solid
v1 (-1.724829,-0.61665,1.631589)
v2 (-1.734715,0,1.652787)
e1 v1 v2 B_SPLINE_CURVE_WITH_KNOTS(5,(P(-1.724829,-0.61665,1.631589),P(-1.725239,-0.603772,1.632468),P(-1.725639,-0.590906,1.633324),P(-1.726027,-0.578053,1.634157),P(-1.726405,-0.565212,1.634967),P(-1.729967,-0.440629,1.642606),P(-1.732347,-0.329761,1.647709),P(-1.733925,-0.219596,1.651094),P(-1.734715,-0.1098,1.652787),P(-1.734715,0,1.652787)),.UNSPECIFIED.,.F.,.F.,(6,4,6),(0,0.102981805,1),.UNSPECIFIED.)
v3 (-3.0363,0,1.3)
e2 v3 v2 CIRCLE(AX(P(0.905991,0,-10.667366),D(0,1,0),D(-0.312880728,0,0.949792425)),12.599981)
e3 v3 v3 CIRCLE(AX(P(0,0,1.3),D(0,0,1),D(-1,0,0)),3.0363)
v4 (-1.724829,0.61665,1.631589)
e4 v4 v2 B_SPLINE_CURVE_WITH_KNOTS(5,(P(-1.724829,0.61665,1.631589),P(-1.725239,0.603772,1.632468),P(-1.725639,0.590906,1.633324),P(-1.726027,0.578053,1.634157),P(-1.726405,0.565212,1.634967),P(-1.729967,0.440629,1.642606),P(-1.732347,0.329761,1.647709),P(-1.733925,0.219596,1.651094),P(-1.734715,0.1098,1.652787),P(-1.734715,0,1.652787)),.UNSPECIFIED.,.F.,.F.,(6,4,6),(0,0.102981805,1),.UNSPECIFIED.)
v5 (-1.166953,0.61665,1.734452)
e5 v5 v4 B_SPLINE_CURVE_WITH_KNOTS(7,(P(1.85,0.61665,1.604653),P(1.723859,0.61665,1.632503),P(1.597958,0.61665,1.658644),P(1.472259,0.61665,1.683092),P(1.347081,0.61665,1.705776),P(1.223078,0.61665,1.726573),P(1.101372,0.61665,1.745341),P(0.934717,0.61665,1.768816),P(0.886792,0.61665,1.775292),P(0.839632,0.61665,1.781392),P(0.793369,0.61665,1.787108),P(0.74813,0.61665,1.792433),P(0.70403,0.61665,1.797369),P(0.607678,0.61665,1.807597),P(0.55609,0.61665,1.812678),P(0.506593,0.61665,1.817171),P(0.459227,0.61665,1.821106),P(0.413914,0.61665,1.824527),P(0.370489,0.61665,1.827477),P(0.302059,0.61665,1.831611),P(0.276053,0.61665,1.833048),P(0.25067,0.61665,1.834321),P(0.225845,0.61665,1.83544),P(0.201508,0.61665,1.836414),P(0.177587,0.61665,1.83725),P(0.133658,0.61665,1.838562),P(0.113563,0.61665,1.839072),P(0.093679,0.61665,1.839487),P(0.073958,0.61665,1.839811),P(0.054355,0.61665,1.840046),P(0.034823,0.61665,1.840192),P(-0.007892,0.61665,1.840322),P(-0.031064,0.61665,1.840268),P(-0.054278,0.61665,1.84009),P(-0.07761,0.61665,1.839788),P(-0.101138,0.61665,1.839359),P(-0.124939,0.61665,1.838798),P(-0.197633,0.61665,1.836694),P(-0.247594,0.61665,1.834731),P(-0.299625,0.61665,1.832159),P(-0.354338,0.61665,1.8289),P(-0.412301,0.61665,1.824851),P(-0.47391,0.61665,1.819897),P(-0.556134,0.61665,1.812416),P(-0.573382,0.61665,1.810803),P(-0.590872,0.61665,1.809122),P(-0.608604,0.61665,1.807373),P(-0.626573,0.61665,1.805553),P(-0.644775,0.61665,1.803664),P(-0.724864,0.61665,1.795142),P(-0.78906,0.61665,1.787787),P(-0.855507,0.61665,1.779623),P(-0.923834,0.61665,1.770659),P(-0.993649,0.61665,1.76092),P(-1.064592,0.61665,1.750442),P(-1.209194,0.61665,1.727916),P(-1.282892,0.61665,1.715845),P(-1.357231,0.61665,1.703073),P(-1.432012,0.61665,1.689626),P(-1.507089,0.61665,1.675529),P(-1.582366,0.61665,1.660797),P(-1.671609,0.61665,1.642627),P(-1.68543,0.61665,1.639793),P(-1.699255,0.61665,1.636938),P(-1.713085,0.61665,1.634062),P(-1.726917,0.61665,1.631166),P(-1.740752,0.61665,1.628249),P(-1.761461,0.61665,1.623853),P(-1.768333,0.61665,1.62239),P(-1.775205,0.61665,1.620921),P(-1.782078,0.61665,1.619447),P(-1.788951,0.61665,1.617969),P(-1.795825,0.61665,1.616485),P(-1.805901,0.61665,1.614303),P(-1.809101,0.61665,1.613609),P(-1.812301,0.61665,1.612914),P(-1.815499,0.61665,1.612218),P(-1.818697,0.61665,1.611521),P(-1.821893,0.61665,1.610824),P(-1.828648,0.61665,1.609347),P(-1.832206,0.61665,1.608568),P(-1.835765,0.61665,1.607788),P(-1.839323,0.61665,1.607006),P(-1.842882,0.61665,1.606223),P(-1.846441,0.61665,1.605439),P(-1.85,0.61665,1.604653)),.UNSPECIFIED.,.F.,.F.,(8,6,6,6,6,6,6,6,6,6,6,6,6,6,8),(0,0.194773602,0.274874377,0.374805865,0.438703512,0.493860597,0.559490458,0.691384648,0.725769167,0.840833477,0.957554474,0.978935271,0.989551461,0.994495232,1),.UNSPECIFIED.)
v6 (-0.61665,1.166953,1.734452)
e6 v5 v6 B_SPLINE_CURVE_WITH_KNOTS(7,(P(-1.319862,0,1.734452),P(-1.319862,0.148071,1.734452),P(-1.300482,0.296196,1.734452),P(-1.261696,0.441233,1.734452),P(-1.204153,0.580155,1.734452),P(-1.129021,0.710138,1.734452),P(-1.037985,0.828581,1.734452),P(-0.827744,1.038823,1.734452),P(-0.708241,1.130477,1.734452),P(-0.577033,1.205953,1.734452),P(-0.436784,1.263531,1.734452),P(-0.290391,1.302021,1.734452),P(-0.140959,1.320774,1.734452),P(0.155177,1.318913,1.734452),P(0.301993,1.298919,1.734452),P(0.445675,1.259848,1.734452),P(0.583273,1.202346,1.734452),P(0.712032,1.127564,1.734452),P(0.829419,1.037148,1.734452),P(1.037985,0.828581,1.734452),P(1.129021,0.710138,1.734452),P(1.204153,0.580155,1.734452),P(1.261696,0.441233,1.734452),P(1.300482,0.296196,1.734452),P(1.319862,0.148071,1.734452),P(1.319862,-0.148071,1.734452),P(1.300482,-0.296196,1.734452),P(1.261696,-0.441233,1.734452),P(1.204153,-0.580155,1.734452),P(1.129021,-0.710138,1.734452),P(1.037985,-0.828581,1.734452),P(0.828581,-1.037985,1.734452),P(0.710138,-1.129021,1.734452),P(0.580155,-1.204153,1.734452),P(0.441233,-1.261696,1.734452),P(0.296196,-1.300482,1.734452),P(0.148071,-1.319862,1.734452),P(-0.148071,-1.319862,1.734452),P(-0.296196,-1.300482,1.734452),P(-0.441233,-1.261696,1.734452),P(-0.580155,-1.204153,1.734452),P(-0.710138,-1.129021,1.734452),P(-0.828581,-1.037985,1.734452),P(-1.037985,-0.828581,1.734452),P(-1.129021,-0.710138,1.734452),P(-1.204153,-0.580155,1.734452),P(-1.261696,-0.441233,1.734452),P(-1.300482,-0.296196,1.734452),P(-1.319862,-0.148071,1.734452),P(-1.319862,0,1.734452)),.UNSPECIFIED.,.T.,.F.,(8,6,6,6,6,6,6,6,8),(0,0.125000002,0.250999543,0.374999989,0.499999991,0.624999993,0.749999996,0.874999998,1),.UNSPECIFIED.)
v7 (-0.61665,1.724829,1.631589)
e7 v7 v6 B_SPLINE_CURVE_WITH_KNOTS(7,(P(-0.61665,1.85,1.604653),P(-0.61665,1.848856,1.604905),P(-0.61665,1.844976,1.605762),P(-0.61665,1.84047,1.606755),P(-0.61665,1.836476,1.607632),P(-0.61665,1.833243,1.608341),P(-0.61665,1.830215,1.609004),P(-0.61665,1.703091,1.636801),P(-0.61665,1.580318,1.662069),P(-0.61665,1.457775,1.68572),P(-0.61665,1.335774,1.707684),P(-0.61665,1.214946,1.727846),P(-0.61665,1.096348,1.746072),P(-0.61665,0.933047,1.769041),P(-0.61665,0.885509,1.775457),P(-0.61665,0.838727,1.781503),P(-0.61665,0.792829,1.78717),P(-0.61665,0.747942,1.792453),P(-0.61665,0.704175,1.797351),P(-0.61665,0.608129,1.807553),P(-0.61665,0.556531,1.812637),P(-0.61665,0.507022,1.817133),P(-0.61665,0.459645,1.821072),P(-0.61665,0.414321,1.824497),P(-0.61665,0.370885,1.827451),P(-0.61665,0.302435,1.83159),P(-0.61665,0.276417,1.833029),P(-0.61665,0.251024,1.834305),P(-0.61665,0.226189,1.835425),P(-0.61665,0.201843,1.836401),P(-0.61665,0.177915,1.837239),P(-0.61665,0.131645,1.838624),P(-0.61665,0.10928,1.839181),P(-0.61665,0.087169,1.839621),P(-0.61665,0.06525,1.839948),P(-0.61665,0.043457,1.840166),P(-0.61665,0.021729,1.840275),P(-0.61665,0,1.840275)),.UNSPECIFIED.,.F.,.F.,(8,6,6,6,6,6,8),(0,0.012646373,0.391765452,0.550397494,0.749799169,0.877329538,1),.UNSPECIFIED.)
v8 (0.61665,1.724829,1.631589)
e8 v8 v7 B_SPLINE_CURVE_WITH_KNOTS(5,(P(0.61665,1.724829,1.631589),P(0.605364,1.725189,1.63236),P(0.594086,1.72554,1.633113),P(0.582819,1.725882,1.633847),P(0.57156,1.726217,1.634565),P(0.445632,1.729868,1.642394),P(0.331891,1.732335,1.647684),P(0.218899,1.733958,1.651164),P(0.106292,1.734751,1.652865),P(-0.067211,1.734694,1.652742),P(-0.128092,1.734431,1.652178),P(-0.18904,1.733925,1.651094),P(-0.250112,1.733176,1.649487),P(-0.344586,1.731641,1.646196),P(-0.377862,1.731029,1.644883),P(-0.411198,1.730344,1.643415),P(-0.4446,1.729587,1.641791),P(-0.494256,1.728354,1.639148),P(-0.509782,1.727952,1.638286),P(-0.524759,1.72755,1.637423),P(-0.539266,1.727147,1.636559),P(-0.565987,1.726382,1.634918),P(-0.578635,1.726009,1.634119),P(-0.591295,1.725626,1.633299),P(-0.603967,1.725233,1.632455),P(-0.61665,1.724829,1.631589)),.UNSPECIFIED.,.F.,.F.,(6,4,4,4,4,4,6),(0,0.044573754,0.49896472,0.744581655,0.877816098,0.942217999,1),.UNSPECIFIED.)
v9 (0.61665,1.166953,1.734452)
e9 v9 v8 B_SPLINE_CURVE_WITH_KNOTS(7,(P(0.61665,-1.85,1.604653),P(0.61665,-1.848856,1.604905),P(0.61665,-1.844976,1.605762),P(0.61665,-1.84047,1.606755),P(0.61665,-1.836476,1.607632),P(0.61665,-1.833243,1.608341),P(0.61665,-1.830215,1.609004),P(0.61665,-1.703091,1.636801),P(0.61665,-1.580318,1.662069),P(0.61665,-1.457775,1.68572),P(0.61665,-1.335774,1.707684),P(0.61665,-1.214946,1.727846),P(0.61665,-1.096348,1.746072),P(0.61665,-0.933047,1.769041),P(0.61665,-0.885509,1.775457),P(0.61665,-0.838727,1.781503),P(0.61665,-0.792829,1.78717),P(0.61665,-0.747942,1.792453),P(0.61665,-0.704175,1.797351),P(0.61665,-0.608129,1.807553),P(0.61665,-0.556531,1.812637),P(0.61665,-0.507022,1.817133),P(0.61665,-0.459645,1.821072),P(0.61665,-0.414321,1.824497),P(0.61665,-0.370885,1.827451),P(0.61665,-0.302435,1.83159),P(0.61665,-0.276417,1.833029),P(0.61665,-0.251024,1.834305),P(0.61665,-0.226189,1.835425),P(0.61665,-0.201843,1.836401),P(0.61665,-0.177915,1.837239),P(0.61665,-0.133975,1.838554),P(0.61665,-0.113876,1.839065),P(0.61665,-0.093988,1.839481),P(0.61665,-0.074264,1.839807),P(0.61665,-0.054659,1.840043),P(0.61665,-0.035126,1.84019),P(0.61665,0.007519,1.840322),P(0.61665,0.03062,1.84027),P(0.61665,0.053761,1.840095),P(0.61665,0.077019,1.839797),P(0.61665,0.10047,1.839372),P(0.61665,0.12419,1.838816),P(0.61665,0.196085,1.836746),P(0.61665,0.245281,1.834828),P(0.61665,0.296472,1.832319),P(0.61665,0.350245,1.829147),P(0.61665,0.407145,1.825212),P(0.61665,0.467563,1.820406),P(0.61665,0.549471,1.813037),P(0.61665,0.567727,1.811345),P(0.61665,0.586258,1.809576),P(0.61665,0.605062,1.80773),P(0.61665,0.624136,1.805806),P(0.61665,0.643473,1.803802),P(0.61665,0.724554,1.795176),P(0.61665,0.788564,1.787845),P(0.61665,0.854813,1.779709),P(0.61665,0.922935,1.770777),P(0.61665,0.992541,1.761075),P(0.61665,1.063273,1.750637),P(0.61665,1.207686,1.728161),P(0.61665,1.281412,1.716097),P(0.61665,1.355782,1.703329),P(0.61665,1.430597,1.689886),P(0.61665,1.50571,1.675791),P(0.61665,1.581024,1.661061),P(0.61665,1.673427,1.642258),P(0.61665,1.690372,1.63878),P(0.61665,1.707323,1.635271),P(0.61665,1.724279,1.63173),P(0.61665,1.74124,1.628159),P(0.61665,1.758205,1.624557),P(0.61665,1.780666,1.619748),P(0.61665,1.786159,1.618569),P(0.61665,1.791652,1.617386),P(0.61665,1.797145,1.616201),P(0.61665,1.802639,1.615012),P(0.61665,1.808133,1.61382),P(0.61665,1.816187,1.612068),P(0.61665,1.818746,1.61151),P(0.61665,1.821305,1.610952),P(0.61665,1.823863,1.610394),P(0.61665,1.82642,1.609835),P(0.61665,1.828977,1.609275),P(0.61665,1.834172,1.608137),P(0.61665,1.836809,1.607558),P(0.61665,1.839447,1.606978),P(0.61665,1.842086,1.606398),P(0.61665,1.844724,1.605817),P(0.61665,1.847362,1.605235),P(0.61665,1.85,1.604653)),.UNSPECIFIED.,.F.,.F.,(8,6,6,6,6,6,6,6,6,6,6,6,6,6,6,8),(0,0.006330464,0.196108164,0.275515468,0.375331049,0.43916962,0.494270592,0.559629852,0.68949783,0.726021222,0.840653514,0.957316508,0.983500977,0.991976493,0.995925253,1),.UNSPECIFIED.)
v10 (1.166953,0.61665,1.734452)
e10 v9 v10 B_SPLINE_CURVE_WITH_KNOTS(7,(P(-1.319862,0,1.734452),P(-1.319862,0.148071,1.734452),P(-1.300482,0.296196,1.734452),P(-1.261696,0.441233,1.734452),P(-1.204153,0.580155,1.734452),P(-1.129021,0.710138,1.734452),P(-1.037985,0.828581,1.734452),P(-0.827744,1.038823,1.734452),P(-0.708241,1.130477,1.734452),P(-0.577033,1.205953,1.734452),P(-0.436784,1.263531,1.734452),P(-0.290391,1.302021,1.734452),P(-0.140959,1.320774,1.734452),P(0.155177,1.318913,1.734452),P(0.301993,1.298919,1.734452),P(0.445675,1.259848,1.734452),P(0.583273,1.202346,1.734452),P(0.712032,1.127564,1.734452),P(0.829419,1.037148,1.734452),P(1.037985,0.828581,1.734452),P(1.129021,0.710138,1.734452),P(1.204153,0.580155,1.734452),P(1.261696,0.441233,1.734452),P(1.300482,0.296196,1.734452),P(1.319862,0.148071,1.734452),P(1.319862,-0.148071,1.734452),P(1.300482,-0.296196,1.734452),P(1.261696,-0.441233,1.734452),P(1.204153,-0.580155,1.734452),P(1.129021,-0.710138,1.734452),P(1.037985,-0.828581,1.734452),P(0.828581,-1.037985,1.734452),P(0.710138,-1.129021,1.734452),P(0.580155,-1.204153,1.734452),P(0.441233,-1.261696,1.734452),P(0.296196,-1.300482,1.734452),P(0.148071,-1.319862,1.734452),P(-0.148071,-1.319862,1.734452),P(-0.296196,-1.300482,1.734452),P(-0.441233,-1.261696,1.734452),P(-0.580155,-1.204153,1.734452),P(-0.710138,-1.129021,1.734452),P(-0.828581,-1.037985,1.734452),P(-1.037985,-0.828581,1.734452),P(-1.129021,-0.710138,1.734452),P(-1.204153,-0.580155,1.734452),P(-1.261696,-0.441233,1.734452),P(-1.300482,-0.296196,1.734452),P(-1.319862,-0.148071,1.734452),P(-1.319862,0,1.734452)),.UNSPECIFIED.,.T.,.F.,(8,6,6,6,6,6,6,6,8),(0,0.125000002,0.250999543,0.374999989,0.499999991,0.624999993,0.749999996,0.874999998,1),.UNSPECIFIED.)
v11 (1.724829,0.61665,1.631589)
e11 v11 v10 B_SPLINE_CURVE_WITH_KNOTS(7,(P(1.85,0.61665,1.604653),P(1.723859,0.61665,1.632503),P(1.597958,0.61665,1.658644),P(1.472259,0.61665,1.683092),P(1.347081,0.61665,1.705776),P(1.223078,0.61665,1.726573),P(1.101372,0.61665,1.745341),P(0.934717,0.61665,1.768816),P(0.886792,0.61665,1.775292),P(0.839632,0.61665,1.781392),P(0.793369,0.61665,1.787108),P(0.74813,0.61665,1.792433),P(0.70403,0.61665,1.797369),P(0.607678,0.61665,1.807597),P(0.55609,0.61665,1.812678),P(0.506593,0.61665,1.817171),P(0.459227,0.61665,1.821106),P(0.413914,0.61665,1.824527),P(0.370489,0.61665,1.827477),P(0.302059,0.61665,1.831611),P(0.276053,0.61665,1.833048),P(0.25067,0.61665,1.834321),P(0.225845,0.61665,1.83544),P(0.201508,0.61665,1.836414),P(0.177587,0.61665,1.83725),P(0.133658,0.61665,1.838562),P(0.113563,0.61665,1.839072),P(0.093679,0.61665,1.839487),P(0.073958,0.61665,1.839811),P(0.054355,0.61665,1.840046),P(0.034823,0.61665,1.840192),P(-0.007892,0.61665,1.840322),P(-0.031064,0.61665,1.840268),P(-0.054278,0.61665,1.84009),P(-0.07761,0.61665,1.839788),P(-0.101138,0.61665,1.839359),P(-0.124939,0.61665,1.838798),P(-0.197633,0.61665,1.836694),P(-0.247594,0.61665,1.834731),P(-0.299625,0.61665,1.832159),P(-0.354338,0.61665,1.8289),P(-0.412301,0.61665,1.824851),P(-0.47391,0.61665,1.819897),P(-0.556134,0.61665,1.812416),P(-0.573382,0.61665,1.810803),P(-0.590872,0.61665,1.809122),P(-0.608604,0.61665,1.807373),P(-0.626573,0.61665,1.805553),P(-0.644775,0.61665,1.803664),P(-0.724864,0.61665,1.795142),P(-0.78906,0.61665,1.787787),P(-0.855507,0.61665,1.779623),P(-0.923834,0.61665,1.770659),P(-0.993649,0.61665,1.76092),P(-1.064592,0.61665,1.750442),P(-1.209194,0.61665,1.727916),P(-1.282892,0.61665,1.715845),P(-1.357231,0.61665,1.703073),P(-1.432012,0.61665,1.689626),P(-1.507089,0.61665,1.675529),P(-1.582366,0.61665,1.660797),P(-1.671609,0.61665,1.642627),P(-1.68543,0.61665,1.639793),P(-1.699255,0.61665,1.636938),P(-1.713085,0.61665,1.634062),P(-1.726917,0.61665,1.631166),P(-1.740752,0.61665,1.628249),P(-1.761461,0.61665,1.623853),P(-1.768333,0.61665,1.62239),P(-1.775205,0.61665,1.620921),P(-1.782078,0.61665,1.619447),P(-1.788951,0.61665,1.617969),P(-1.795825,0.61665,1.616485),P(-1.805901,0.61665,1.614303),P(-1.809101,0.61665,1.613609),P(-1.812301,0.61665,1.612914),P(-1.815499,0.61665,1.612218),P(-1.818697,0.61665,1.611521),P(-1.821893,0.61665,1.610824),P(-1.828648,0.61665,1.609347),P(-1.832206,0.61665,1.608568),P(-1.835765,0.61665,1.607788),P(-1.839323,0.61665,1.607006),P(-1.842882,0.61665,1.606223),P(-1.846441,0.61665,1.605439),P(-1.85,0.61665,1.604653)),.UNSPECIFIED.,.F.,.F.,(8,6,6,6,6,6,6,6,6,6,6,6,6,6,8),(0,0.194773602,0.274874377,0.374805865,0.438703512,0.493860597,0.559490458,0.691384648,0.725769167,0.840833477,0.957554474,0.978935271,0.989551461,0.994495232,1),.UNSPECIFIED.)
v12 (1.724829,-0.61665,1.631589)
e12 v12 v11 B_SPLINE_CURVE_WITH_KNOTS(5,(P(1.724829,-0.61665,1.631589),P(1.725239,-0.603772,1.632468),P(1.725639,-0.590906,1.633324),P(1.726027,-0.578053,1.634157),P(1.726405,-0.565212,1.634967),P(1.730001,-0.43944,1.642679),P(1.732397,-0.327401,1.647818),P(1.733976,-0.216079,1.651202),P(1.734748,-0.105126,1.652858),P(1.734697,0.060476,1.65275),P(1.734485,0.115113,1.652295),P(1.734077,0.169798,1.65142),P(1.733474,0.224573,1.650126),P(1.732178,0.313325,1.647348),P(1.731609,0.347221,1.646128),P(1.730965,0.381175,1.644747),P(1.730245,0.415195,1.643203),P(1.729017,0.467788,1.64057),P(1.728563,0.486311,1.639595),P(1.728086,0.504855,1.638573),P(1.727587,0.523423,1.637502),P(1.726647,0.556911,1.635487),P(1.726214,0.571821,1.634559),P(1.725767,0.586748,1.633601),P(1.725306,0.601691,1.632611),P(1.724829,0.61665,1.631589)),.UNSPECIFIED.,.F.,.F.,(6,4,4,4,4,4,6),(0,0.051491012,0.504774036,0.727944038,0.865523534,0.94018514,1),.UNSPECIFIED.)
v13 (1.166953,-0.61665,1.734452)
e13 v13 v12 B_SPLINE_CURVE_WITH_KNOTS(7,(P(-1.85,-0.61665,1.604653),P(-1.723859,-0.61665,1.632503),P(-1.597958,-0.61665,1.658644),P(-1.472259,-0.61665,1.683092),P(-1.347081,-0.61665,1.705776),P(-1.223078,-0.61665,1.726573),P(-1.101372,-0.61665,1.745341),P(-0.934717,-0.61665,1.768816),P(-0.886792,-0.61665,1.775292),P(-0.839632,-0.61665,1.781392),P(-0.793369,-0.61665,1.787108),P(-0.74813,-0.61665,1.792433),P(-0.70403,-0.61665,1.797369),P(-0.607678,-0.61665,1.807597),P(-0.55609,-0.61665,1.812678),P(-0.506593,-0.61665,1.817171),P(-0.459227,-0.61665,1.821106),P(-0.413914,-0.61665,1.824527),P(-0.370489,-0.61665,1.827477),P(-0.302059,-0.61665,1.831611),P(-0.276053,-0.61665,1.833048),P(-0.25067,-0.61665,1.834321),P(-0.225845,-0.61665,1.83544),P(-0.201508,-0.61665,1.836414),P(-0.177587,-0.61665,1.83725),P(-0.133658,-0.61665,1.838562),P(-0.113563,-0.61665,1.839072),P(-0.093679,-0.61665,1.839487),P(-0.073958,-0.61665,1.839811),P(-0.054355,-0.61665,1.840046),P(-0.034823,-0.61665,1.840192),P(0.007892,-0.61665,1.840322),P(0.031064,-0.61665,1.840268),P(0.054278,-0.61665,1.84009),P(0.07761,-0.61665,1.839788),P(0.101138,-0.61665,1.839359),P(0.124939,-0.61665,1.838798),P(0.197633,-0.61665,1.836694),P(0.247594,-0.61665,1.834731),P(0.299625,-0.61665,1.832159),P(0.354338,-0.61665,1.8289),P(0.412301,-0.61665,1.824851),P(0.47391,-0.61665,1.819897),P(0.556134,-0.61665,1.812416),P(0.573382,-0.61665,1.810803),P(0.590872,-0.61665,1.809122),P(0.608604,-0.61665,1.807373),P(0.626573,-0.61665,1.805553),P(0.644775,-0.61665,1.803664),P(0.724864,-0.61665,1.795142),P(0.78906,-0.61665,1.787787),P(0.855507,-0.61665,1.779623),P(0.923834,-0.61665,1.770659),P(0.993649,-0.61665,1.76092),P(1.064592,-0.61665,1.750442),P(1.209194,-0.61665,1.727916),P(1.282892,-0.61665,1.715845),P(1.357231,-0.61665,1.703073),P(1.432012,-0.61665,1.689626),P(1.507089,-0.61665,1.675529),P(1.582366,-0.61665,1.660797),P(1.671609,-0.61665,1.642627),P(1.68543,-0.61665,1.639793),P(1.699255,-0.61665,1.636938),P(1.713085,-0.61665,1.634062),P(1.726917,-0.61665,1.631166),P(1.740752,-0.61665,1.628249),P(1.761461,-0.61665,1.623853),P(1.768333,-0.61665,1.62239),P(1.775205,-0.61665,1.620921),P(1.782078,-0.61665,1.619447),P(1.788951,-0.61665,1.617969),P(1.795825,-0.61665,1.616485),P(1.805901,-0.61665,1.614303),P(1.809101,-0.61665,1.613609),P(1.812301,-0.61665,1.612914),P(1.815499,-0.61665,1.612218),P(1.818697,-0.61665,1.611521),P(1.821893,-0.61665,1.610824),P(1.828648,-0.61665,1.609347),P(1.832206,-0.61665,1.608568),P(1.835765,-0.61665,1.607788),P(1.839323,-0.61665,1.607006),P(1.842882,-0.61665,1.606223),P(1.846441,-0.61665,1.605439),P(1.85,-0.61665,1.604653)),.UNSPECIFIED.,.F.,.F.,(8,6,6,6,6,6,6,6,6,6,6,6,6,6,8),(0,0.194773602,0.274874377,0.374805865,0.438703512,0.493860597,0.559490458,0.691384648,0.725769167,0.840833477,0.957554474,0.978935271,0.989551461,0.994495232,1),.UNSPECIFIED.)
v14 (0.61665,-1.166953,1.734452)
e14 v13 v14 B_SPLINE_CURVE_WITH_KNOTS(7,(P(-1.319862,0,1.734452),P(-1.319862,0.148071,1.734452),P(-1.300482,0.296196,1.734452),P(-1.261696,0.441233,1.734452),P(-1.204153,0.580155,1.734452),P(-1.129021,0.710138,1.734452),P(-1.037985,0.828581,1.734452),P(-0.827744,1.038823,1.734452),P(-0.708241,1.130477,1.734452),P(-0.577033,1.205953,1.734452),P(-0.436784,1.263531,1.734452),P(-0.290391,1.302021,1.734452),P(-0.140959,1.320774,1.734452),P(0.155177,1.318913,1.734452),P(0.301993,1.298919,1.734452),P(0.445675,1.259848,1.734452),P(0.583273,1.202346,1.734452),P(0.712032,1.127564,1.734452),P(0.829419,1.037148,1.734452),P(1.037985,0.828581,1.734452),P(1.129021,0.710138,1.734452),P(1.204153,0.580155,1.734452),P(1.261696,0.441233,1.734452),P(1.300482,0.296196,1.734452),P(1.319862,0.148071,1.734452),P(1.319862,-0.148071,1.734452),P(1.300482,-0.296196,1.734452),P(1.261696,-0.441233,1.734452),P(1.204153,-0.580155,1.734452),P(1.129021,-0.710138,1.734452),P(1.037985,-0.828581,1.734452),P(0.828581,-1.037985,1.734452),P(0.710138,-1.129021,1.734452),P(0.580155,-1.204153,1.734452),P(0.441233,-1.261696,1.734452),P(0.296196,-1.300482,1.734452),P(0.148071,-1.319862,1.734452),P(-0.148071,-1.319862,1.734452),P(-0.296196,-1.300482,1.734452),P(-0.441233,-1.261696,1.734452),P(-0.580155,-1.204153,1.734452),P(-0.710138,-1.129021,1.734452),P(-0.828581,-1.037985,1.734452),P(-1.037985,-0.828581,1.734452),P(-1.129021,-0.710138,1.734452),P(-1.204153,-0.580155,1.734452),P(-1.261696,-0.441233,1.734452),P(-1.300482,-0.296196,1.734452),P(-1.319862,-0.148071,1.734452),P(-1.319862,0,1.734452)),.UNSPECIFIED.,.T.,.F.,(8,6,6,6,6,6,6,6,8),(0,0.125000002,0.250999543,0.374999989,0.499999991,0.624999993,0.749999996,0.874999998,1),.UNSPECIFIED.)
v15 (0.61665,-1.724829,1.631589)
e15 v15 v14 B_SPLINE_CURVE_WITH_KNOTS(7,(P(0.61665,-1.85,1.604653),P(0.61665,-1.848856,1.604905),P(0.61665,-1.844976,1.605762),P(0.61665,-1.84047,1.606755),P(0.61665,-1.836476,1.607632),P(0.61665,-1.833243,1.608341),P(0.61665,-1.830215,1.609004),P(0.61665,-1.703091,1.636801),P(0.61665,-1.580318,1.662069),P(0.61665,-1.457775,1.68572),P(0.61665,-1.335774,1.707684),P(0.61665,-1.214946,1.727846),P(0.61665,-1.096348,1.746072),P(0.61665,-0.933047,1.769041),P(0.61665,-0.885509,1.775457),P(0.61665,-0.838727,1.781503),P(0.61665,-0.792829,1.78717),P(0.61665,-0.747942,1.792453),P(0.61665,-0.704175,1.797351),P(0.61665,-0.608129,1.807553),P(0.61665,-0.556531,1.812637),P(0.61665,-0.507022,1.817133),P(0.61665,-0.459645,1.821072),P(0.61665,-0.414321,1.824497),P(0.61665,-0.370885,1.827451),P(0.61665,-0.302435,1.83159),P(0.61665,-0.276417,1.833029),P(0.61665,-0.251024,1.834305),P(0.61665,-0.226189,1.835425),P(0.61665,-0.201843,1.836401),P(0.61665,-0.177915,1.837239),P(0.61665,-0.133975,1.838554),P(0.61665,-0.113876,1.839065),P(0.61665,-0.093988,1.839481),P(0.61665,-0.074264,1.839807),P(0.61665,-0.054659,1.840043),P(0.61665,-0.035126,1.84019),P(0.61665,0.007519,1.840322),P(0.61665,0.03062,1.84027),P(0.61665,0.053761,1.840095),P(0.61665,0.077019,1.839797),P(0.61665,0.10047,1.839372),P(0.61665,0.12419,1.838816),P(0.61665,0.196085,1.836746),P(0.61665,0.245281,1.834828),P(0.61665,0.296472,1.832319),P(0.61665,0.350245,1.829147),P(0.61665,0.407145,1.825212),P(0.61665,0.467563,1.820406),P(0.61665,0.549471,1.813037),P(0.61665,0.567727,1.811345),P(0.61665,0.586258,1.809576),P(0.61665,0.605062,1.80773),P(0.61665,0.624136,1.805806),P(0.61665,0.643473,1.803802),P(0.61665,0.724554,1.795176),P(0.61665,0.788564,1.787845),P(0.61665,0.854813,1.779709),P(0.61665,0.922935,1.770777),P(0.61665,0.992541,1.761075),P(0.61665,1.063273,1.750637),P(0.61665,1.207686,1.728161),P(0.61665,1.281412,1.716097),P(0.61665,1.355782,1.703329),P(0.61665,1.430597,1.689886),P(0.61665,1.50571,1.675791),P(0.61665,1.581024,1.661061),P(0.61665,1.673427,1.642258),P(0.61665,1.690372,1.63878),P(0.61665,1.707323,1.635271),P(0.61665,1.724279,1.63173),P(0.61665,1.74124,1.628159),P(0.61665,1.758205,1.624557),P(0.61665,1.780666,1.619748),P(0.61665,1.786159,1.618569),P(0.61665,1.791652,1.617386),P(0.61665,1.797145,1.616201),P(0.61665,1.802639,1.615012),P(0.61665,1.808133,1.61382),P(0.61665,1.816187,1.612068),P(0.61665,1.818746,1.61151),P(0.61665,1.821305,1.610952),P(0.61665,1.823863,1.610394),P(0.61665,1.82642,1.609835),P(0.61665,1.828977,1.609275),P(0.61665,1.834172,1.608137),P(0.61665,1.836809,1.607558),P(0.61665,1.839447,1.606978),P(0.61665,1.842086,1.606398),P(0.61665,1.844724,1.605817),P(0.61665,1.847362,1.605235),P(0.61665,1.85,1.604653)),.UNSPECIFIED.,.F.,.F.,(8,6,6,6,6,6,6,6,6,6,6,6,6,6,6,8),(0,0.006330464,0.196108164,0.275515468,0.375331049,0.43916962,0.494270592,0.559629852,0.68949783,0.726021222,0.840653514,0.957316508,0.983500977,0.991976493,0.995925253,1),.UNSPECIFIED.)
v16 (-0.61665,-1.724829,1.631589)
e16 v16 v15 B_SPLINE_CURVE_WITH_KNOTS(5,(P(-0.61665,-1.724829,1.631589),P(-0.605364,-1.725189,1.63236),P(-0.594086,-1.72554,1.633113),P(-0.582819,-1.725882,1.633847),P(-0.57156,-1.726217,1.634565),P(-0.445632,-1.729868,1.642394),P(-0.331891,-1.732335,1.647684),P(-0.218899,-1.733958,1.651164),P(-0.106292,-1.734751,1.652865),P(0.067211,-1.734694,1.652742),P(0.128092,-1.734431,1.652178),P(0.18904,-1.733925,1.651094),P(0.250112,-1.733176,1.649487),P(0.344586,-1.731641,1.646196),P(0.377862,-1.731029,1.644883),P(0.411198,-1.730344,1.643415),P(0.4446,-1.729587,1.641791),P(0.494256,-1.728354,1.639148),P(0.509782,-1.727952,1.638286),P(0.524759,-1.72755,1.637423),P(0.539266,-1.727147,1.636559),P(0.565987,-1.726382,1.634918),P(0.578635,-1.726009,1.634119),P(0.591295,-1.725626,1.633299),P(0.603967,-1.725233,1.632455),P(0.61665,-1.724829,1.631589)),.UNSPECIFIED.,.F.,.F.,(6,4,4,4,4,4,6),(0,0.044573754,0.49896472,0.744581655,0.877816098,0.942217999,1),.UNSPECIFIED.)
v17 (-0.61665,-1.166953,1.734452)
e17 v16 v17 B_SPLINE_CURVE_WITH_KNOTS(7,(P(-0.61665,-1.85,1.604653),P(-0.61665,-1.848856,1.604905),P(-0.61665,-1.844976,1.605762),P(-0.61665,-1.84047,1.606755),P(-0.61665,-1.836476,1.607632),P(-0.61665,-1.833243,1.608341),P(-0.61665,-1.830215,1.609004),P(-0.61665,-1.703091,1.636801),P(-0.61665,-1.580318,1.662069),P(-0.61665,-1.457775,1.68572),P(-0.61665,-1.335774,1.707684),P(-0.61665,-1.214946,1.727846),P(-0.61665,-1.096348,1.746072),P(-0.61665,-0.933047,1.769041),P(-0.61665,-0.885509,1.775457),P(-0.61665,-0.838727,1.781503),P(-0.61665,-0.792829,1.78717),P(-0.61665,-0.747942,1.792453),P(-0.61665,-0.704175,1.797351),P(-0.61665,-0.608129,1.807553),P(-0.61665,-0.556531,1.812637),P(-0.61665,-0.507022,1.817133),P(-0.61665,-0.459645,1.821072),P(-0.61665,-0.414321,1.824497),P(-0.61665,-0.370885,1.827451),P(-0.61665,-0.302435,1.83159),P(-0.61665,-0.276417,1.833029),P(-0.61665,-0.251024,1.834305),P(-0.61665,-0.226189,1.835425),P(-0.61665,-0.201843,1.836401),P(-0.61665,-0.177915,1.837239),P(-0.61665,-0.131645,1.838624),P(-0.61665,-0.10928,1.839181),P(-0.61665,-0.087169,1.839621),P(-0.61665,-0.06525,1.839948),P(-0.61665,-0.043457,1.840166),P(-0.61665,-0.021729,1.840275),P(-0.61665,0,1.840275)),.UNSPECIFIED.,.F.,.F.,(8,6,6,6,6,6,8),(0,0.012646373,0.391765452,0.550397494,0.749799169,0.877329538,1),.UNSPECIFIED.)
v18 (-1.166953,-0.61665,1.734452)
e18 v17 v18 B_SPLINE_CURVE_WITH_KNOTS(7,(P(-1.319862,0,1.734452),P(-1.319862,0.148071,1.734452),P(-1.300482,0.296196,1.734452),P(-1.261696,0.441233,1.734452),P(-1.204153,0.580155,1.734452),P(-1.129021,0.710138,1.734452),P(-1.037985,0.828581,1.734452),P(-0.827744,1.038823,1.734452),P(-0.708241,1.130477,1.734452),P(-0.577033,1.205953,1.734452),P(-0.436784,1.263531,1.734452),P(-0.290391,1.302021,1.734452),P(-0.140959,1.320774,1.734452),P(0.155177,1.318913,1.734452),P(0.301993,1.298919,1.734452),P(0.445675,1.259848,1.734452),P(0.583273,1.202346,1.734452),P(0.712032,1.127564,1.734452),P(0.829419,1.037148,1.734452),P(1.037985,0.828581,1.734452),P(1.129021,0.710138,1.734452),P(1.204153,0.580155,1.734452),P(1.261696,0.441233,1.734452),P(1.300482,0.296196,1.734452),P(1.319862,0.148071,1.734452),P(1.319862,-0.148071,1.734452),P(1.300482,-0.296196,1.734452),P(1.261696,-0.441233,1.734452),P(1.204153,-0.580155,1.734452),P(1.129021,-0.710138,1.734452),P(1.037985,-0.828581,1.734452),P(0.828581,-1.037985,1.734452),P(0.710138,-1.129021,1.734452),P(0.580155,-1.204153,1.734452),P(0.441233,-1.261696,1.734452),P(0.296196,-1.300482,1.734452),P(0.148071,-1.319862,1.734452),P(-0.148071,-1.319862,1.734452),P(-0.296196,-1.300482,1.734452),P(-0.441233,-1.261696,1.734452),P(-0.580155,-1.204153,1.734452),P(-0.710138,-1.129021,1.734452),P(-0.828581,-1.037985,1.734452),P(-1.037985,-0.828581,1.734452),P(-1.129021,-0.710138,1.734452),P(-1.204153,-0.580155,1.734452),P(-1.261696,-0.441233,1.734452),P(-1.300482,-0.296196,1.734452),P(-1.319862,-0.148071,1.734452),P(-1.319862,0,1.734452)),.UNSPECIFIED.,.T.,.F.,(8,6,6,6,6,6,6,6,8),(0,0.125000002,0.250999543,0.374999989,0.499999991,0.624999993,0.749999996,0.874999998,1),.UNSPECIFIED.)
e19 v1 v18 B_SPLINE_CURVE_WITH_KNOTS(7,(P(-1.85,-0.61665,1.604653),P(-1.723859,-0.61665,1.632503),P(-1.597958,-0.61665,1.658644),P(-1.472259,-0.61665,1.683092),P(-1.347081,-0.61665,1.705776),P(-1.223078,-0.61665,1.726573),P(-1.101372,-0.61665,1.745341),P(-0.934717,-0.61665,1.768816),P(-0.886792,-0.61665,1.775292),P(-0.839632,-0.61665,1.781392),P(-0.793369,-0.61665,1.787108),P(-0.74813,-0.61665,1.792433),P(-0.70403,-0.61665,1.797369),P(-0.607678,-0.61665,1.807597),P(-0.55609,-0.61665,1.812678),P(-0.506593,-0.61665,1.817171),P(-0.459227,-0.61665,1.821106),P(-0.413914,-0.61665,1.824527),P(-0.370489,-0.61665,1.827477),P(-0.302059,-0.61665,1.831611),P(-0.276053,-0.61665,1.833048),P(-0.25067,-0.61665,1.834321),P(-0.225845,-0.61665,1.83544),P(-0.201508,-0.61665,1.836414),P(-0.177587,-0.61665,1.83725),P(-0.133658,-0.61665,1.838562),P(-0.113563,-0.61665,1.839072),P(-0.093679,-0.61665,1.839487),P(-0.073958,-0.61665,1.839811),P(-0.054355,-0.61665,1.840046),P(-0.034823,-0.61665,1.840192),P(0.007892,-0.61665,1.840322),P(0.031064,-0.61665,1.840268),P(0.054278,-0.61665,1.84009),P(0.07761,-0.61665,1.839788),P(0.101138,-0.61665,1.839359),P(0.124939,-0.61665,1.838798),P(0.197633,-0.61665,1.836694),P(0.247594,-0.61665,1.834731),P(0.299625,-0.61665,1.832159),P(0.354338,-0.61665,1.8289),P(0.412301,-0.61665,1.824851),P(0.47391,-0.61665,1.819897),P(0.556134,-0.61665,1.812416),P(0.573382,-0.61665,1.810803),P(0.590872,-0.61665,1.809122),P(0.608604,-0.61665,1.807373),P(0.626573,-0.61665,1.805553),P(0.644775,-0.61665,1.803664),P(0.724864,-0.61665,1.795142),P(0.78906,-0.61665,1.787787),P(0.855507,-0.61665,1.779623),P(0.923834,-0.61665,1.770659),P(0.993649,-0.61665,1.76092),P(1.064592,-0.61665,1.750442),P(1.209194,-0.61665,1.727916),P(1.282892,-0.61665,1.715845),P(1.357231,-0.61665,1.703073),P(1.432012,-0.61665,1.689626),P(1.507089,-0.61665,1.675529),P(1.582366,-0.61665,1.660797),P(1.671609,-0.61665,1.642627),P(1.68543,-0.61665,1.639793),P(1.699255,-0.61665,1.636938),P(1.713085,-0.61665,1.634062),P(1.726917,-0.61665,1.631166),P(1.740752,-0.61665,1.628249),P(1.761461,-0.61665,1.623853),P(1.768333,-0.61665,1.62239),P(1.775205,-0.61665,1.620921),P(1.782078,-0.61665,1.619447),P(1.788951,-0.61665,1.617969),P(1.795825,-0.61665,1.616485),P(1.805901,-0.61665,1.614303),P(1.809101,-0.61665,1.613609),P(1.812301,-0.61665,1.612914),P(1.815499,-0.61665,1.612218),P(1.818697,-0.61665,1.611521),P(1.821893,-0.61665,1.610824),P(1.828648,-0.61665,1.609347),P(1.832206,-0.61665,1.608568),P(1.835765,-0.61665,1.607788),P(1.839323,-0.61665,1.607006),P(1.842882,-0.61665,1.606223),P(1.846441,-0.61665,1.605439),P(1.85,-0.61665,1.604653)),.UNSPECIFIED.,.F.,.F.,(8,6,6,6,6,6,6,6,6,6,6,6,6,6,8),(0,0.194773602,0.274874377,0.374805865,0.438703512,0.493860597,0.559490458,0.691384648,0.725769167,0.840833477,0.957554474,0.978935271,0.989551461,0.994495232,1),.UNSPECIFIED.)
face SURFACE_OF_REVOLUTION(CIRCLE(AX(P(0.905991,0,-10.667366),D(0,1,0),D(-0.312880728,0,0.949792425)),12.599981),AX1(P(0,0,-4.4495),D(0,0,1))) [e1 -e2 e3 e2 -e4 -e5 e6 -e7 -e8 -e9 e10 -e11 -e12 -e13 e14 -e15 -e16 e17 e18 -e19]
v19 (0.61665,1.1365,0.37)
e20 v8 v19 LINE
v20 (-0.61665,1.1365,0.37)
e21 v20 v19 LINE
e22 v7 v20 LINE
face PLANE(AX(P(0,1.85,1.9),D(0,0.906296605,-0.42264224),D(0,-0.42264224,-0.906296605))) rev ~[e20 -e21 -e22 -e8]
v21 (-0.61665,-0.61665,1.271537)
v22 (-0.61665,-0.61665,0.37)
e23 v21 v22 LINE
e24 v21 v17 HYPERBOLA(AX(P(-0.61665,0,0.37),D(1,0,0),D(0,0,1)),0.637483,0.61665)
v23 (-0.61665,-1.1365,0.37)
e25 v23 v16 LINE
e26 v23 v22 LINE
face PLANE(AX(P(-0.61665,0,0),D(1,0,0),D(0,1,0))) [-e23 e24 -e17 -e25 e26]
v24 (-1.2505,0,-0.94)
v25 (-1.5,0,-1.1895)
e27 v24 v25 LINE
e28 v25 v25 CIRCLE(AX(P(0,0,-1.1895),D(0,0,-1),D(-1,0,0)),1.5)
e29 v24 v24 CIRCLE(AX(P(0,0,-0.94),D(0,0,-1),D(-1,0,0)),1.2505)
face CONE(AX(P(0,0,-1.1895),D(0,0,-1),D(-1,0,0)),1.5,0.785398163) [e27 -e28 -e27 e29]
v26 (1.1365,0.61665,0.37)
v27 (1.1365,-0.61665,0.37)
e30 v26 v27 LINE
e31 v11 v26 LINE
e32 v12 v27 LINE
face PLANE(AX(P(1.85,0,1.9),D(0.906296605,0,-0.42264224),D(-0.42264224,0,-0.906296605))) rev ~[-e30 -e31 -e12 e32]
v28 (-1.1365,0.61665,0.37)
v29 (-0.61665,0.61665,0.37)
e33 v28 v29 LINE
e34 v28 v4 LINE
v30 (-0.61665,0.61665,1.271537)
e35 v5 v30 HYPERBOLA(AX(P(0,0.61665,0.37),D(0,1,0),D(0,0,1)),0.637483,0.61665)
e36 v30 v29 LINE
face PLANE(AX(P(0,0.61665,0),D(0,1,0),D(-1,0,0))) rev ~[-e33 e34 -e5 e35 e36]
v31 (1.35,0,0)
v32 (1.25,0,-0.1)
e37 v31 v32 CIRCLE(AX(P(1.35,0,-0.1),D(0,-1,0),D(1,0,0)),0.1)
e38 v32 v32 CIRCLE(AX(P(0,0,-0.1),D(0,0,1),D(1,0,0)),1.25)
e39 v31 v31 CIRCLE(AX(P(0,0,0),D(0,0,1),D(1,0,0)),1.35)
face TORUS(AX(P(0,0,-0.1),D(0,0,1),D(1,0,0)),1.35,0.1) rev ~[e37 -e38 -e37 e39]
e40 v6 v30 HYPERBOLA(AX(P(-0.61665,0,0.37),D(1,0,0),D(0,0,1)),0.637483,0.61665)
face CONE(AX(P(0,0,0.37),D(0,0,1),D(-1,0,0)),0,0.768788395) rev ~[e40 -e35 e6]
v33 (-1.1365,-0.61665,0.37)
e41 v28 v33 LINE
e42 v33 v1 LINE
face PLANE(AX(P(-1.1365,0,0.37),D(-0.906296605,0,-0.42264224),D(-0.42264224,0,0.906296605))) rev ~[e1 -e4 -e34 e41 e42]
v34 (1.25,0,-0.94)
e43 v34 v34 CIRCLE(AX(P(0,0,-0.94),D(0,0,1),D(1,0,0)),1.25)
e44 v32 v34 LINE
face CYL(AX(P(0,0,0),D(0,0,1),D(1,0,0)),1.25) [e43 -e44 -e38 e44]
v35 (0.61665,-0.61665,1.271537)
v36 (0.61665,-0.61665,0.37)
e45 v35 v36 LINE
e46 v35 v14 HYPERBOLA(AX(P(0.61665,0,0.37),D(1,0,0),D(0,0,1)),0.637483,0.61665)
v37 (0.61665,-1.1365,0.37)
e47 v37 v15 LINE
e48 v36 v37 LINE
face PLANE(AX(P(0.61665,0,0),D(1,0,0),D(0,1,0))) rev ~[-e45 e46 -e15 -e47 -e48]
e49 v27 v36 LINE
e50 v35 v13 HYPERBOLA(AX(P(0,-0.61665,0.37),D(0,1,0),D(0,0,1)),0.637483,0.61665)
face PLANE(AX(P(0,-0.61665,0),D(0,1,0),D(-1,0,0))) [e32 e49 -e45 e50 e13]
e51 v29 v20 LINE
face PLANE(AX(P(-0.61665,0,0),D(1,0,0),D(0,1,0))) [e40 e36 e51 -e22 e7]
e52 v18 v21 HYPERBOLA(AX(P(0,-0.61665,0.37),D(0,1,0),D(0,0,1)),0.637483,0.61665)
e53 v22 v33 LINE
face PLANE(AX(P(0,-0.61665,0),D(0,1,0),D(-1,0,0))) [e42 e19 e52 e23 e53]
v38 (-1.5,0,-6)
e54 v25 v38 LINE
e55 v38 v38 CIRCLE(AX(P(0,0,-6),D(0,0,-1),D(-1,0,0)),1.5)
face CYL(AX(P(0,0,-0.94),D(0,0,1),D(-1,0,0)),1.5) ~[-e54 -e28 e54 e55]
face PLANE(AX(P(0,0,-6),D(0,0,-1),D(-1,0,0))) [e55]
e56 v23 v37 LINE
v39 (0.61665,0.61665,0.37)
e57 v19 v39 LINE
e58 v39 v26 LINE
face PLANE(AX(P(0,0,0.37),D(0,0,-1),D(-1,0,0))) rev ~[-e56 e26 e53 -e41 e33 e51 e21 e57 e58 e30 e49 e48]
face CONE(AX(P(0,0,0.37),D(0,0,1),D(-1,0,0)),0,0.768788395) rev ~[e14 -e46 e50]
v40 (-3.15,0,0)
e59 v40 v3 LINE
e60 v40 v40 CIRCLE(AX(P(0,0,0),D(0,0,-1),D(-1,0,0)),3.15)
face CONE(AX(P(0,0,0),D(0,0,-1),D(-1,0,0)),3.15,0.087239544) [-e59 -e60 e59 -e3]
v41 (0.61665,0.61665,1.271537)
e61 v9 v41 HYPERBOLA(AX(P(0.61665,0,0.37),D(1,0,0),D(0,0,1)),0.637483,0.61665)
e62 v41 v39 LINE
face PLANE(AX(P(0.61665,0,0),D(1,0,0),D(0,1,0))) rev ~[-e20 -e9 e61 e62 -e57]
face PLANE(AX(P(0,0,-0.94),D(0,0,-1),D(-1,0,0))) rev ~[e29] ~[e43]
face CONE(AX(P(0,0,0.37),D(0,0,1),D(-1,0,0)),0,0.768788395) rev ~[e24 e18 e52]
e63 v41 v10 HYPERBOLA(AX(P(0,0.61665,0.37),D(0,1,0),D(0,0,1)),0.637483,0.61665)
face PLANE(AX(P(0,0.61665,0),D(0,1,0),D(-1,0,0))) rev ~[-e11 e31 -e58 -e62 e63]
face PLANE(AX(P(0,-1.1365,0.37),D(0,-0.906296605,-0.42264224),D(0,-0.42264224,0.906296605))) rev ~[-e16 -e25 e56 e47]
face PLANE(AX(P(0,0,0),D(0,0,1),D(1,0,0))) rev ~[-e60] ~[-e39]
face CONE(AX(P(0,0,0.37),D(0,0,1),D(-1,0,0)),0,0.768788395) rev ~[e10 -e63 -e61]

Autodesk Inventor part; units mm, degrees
ref_plane "YZ Plane" through (0, 0, 0) normal (1, 0, 0) x (0, 1, 0)
sketch "Эскиз2" plane through (0, 0, 0) normal (0, 0, 1) x (1, 0, 0)
  circle A0 centre (0, 0) radius 1.25
  dimension "d3" = 2.5
extrude "Выдавливание1" add sketch "Эскиз2" against normal blind 0.94
sketch "Эскиз3" plane through (0, 0, -0.94) normal (0, 0, -1) x (-1, 0, 0)
  circle A0 centre (0, 0) radius 1.5
  circle A1 centre (0, 0) radius 1.25 construction
  dimension "d28" = 360
  dimension "d9" = 3
extrude "Выдавливание2" add sketch "Эскиз3" along normal blind 5.06
chamfer "Фаска1" distance 0.25 distance2 0.25 1 edges at (1.5, 0, -0.94) measured on face at (-1.39, -0.2194, -0.94)
sketch "Эскиз4" plane through (0, 0, 0) normal (0, 0, 1) x (1, 0, 0)
  circle A0 centre (0, 0) radius 3.15
  circle A1 centre (0, 0) radius 1.25 construction
  dimension "d15" = 6.3
extrude "Выдавливание3" add sketch "Эскиз4" along normal blind 1.3
fillet "Сопряжение1" radius 0.1 1 edges at (-1.25, 0, 0)
sketch "Эскиз5" plane through (0, 0, 0) normal (0, 1, 0) x (-1, 0, 0)
  line L0 (3.15, 1.3) -> (3.15, 0)
  line L1 (3.0363, 1.3) -> (3.15, 1.3)
  line L2 (3.15, 0) -> (3.0363, 1.3)
  line L3 (-3.15, 1.3) -> (3.15, 1.3) construction
  line L4 (-3.15, 0) -> (3.15, 0) construction
  line L5 (0, -0.26) -> (0, 1.56) projected
  line L6 (4.41, 0) -> (-4.41, 0) projected
  dimension "d20" = 5
  dimension "d56" = 3.15
  dimension "d57" = 1.3
revolve "Вращение1" cut sketch "Эскиз5" angle 360 about axis through (0, 0, -10) along (0, 0, 1)
sketch "Эскиз6" plane through (0, 0, 0) normal (0, 1, 0) x (-1, 0, 0)
  line L0 (0, 1.9) -> (0, 1.3)
  arc A0 (3.0363, 1.3) -> (0, 1.9) centre (-0.906, -10.6674) ccw
  line L1 (0, 1.3) -> (3.0363, 1.3)
  line L2 (3.0363, 1.3) -> (-3.0363, 1.3) construction
  line L3 (0, -4.4495) -> (0, 0.4495)
  line L4 (0, -13.1996) -> (0, 4.5258) projected
  line L5 (4.273, 0) -> (-4.2545, 0) projected
  dimension "d58" = 0.6
  dimension "d59" = 3.0363
  dimension "d60" = 0
  dimension "d62" = 12.6
revolve "Вращение2" add sketch "Эскиз6" angle 360 about axis through (0, 0, -4.4495) along (0, 0, 1)
sketch "Эскиз7" plane through (0, 0, 0) normal (0, 1, 0) x (-1, 0, 0)
  line L0 (1.85, 1.9) -> (-1.85, 1.9)
  line L1 (1.1365, 0.37) -> (1.85, 1.9)
  line L2 (-1.1365, 0.37) -> (1.1365, 0.37)
  line L3 (-1.85, 1.9) -> (-1.1365, 0.37)
  line L4 (0, 0.064) -> (0, 2.206) projected
  line L5 (2.59, 0) -> (-2.59, 0) projected
  dimension "d32" = 1.53
  dimension "d34" = 65
  dimension "d36" = 65
  dimension "d63" = 1.85
  dimension "d64" = 1.9
  dimension "d65" = 3.7
extrude "Выдавливание4" cut sketch "Эскиз7" against normal mid plane 1.2333
sketch "Эскиз8" plane through (0, 0, 0) normal (1, 0, 0) x (0, 1, 0)
  line L0 (-1.1365, 0.37) -> (-1.85, 1.9)
  line L1 (1.1365, 0.37) -> (-1.1365, 0.37)
  line L2 (1.85, 1.9) -> (1.1365, 0.37)
  line L3 (-1.85, 1.9) -> (1.85, 1.9)
  line L4 (0, 0.064) -> (0, 2.206) projected
  line L5 (-2.59, 0) -> (2.59, 0) projected
  dimension "d40" = 65
  dimension "d42" = 65
  dimension "d44" = 1.53
  dimension "d66" = 3.7
  dimension "d67" = 1.9
  dimension "d69" = 1.85
extrude "Выдавливание5" cut sketch "Эскиз8" along normal mid plane 1.2333
sketch "Эскиз9" plane through (0, 0, 0) normal (0, 1, 0) x (-1, 0, 0)
  line L0 (0, 1.9) -> (0, 0.37)
  line L1 (1.48, 1.9) -> (0, 1.9)
  line L2 (0, 0.37) -> (1.48, 1.9)
  line L3 (-3.15, 0) -> (3.15, 0) construction
  line L4 (0, -0.38) -> (0, 2.28) projected
  line L5 (4.41, 0) -> (-4.41, 0) projected
  dimension "d50" = 1.53
  dimension "d52" = 1.53
  dimension "d54" = 1.48
  dimension "d70" = 0
  dimension "d71" = 1.9
revolve "Вращение3" cut sketch "Эскиз9" angle 360 about axis through (0, 0, -10) along (0, 0, 1)
thread "Резьба1" size "M3x0.5" class "6g" standard "ISO Metric profile" full length
ref_plane "MSC_PF1" through (0, 0, 0) normal (1, 0, 0) x (0, 1, 0)
ref_plane "MSC_PT1" through (0, 0, 0) normal (0, 0, -1) x (-1, 0, 0)
equation "\"d4\" = -b + NLG"
equation "\"d9\" = NND"
equation "\"d10\" = b"
equation "\"d12\" = -0.5 * msp_ds + 0.5 * NND"
equation "\"d13\" = 0.5 * NND - 0.5 * msp_ds"
equation "\"d15\" = Dk"
equation "\"d16\" = ParK"
equation "\"d18\" = r"
equation "\"d32\" = q"
equation "\"d63\" = 0.5 * M"
equation "\"d64\" = ParK + ParF"
equation "\"d65\" = M"
equation "\"d37\" = 2 * msp_s"
equation "\"d44\" = q"
equation "\"d66\" = M"
equation "\"d67\" = ParK + ParF"
equation "\"d69\" = 0.5 * M"
equation "\"d47\" = 2 * msp_s"
equation "\"d3\" = msp_ds"
equation "\"d56\" = 0.5 * Dk"
equation "\"d57\" = ParK"
equation "\"d58\" = ParF"
equation "\"d59\" = 0.5 * Dk - msp_v"
equation "\"d62\" = 2 * Dk"
equation "\"d50\" = q"
equation "\"d52\" = q"
equation "\"d54\" = msp_rr"
equation "\"d71\" = ParK + ParF"
equation "\"PTC\" = 0.5"
equation "\"NLG\" = 6"
equation "\"Dk\" = 6.3"
equation "\"ParK\" = 1.3"
equation "\"NND\" = 3"
equation "\"M\" = 3.7"
equation "\"q\" = 1.53"
equation "\"r\" = 0.1"
equation "\"msp_ds\" = NND - PTC"
equation "\"b\" = 5.06"
equation "\"msp_x\" = 1.25 * PTC"
equation "\"msp_s\" = 0.166667 * M"
equation "\"msp_rr\" = 0.4 * M"
equation "\"ParF\" = 0.6"
equation "\"msp_v\" = 0.0874887 * ParK"
equation "\"THREADDIA\" = NND"
properties part number "JIS B 1111 - M3x6" material "Сталь, мягкая"
